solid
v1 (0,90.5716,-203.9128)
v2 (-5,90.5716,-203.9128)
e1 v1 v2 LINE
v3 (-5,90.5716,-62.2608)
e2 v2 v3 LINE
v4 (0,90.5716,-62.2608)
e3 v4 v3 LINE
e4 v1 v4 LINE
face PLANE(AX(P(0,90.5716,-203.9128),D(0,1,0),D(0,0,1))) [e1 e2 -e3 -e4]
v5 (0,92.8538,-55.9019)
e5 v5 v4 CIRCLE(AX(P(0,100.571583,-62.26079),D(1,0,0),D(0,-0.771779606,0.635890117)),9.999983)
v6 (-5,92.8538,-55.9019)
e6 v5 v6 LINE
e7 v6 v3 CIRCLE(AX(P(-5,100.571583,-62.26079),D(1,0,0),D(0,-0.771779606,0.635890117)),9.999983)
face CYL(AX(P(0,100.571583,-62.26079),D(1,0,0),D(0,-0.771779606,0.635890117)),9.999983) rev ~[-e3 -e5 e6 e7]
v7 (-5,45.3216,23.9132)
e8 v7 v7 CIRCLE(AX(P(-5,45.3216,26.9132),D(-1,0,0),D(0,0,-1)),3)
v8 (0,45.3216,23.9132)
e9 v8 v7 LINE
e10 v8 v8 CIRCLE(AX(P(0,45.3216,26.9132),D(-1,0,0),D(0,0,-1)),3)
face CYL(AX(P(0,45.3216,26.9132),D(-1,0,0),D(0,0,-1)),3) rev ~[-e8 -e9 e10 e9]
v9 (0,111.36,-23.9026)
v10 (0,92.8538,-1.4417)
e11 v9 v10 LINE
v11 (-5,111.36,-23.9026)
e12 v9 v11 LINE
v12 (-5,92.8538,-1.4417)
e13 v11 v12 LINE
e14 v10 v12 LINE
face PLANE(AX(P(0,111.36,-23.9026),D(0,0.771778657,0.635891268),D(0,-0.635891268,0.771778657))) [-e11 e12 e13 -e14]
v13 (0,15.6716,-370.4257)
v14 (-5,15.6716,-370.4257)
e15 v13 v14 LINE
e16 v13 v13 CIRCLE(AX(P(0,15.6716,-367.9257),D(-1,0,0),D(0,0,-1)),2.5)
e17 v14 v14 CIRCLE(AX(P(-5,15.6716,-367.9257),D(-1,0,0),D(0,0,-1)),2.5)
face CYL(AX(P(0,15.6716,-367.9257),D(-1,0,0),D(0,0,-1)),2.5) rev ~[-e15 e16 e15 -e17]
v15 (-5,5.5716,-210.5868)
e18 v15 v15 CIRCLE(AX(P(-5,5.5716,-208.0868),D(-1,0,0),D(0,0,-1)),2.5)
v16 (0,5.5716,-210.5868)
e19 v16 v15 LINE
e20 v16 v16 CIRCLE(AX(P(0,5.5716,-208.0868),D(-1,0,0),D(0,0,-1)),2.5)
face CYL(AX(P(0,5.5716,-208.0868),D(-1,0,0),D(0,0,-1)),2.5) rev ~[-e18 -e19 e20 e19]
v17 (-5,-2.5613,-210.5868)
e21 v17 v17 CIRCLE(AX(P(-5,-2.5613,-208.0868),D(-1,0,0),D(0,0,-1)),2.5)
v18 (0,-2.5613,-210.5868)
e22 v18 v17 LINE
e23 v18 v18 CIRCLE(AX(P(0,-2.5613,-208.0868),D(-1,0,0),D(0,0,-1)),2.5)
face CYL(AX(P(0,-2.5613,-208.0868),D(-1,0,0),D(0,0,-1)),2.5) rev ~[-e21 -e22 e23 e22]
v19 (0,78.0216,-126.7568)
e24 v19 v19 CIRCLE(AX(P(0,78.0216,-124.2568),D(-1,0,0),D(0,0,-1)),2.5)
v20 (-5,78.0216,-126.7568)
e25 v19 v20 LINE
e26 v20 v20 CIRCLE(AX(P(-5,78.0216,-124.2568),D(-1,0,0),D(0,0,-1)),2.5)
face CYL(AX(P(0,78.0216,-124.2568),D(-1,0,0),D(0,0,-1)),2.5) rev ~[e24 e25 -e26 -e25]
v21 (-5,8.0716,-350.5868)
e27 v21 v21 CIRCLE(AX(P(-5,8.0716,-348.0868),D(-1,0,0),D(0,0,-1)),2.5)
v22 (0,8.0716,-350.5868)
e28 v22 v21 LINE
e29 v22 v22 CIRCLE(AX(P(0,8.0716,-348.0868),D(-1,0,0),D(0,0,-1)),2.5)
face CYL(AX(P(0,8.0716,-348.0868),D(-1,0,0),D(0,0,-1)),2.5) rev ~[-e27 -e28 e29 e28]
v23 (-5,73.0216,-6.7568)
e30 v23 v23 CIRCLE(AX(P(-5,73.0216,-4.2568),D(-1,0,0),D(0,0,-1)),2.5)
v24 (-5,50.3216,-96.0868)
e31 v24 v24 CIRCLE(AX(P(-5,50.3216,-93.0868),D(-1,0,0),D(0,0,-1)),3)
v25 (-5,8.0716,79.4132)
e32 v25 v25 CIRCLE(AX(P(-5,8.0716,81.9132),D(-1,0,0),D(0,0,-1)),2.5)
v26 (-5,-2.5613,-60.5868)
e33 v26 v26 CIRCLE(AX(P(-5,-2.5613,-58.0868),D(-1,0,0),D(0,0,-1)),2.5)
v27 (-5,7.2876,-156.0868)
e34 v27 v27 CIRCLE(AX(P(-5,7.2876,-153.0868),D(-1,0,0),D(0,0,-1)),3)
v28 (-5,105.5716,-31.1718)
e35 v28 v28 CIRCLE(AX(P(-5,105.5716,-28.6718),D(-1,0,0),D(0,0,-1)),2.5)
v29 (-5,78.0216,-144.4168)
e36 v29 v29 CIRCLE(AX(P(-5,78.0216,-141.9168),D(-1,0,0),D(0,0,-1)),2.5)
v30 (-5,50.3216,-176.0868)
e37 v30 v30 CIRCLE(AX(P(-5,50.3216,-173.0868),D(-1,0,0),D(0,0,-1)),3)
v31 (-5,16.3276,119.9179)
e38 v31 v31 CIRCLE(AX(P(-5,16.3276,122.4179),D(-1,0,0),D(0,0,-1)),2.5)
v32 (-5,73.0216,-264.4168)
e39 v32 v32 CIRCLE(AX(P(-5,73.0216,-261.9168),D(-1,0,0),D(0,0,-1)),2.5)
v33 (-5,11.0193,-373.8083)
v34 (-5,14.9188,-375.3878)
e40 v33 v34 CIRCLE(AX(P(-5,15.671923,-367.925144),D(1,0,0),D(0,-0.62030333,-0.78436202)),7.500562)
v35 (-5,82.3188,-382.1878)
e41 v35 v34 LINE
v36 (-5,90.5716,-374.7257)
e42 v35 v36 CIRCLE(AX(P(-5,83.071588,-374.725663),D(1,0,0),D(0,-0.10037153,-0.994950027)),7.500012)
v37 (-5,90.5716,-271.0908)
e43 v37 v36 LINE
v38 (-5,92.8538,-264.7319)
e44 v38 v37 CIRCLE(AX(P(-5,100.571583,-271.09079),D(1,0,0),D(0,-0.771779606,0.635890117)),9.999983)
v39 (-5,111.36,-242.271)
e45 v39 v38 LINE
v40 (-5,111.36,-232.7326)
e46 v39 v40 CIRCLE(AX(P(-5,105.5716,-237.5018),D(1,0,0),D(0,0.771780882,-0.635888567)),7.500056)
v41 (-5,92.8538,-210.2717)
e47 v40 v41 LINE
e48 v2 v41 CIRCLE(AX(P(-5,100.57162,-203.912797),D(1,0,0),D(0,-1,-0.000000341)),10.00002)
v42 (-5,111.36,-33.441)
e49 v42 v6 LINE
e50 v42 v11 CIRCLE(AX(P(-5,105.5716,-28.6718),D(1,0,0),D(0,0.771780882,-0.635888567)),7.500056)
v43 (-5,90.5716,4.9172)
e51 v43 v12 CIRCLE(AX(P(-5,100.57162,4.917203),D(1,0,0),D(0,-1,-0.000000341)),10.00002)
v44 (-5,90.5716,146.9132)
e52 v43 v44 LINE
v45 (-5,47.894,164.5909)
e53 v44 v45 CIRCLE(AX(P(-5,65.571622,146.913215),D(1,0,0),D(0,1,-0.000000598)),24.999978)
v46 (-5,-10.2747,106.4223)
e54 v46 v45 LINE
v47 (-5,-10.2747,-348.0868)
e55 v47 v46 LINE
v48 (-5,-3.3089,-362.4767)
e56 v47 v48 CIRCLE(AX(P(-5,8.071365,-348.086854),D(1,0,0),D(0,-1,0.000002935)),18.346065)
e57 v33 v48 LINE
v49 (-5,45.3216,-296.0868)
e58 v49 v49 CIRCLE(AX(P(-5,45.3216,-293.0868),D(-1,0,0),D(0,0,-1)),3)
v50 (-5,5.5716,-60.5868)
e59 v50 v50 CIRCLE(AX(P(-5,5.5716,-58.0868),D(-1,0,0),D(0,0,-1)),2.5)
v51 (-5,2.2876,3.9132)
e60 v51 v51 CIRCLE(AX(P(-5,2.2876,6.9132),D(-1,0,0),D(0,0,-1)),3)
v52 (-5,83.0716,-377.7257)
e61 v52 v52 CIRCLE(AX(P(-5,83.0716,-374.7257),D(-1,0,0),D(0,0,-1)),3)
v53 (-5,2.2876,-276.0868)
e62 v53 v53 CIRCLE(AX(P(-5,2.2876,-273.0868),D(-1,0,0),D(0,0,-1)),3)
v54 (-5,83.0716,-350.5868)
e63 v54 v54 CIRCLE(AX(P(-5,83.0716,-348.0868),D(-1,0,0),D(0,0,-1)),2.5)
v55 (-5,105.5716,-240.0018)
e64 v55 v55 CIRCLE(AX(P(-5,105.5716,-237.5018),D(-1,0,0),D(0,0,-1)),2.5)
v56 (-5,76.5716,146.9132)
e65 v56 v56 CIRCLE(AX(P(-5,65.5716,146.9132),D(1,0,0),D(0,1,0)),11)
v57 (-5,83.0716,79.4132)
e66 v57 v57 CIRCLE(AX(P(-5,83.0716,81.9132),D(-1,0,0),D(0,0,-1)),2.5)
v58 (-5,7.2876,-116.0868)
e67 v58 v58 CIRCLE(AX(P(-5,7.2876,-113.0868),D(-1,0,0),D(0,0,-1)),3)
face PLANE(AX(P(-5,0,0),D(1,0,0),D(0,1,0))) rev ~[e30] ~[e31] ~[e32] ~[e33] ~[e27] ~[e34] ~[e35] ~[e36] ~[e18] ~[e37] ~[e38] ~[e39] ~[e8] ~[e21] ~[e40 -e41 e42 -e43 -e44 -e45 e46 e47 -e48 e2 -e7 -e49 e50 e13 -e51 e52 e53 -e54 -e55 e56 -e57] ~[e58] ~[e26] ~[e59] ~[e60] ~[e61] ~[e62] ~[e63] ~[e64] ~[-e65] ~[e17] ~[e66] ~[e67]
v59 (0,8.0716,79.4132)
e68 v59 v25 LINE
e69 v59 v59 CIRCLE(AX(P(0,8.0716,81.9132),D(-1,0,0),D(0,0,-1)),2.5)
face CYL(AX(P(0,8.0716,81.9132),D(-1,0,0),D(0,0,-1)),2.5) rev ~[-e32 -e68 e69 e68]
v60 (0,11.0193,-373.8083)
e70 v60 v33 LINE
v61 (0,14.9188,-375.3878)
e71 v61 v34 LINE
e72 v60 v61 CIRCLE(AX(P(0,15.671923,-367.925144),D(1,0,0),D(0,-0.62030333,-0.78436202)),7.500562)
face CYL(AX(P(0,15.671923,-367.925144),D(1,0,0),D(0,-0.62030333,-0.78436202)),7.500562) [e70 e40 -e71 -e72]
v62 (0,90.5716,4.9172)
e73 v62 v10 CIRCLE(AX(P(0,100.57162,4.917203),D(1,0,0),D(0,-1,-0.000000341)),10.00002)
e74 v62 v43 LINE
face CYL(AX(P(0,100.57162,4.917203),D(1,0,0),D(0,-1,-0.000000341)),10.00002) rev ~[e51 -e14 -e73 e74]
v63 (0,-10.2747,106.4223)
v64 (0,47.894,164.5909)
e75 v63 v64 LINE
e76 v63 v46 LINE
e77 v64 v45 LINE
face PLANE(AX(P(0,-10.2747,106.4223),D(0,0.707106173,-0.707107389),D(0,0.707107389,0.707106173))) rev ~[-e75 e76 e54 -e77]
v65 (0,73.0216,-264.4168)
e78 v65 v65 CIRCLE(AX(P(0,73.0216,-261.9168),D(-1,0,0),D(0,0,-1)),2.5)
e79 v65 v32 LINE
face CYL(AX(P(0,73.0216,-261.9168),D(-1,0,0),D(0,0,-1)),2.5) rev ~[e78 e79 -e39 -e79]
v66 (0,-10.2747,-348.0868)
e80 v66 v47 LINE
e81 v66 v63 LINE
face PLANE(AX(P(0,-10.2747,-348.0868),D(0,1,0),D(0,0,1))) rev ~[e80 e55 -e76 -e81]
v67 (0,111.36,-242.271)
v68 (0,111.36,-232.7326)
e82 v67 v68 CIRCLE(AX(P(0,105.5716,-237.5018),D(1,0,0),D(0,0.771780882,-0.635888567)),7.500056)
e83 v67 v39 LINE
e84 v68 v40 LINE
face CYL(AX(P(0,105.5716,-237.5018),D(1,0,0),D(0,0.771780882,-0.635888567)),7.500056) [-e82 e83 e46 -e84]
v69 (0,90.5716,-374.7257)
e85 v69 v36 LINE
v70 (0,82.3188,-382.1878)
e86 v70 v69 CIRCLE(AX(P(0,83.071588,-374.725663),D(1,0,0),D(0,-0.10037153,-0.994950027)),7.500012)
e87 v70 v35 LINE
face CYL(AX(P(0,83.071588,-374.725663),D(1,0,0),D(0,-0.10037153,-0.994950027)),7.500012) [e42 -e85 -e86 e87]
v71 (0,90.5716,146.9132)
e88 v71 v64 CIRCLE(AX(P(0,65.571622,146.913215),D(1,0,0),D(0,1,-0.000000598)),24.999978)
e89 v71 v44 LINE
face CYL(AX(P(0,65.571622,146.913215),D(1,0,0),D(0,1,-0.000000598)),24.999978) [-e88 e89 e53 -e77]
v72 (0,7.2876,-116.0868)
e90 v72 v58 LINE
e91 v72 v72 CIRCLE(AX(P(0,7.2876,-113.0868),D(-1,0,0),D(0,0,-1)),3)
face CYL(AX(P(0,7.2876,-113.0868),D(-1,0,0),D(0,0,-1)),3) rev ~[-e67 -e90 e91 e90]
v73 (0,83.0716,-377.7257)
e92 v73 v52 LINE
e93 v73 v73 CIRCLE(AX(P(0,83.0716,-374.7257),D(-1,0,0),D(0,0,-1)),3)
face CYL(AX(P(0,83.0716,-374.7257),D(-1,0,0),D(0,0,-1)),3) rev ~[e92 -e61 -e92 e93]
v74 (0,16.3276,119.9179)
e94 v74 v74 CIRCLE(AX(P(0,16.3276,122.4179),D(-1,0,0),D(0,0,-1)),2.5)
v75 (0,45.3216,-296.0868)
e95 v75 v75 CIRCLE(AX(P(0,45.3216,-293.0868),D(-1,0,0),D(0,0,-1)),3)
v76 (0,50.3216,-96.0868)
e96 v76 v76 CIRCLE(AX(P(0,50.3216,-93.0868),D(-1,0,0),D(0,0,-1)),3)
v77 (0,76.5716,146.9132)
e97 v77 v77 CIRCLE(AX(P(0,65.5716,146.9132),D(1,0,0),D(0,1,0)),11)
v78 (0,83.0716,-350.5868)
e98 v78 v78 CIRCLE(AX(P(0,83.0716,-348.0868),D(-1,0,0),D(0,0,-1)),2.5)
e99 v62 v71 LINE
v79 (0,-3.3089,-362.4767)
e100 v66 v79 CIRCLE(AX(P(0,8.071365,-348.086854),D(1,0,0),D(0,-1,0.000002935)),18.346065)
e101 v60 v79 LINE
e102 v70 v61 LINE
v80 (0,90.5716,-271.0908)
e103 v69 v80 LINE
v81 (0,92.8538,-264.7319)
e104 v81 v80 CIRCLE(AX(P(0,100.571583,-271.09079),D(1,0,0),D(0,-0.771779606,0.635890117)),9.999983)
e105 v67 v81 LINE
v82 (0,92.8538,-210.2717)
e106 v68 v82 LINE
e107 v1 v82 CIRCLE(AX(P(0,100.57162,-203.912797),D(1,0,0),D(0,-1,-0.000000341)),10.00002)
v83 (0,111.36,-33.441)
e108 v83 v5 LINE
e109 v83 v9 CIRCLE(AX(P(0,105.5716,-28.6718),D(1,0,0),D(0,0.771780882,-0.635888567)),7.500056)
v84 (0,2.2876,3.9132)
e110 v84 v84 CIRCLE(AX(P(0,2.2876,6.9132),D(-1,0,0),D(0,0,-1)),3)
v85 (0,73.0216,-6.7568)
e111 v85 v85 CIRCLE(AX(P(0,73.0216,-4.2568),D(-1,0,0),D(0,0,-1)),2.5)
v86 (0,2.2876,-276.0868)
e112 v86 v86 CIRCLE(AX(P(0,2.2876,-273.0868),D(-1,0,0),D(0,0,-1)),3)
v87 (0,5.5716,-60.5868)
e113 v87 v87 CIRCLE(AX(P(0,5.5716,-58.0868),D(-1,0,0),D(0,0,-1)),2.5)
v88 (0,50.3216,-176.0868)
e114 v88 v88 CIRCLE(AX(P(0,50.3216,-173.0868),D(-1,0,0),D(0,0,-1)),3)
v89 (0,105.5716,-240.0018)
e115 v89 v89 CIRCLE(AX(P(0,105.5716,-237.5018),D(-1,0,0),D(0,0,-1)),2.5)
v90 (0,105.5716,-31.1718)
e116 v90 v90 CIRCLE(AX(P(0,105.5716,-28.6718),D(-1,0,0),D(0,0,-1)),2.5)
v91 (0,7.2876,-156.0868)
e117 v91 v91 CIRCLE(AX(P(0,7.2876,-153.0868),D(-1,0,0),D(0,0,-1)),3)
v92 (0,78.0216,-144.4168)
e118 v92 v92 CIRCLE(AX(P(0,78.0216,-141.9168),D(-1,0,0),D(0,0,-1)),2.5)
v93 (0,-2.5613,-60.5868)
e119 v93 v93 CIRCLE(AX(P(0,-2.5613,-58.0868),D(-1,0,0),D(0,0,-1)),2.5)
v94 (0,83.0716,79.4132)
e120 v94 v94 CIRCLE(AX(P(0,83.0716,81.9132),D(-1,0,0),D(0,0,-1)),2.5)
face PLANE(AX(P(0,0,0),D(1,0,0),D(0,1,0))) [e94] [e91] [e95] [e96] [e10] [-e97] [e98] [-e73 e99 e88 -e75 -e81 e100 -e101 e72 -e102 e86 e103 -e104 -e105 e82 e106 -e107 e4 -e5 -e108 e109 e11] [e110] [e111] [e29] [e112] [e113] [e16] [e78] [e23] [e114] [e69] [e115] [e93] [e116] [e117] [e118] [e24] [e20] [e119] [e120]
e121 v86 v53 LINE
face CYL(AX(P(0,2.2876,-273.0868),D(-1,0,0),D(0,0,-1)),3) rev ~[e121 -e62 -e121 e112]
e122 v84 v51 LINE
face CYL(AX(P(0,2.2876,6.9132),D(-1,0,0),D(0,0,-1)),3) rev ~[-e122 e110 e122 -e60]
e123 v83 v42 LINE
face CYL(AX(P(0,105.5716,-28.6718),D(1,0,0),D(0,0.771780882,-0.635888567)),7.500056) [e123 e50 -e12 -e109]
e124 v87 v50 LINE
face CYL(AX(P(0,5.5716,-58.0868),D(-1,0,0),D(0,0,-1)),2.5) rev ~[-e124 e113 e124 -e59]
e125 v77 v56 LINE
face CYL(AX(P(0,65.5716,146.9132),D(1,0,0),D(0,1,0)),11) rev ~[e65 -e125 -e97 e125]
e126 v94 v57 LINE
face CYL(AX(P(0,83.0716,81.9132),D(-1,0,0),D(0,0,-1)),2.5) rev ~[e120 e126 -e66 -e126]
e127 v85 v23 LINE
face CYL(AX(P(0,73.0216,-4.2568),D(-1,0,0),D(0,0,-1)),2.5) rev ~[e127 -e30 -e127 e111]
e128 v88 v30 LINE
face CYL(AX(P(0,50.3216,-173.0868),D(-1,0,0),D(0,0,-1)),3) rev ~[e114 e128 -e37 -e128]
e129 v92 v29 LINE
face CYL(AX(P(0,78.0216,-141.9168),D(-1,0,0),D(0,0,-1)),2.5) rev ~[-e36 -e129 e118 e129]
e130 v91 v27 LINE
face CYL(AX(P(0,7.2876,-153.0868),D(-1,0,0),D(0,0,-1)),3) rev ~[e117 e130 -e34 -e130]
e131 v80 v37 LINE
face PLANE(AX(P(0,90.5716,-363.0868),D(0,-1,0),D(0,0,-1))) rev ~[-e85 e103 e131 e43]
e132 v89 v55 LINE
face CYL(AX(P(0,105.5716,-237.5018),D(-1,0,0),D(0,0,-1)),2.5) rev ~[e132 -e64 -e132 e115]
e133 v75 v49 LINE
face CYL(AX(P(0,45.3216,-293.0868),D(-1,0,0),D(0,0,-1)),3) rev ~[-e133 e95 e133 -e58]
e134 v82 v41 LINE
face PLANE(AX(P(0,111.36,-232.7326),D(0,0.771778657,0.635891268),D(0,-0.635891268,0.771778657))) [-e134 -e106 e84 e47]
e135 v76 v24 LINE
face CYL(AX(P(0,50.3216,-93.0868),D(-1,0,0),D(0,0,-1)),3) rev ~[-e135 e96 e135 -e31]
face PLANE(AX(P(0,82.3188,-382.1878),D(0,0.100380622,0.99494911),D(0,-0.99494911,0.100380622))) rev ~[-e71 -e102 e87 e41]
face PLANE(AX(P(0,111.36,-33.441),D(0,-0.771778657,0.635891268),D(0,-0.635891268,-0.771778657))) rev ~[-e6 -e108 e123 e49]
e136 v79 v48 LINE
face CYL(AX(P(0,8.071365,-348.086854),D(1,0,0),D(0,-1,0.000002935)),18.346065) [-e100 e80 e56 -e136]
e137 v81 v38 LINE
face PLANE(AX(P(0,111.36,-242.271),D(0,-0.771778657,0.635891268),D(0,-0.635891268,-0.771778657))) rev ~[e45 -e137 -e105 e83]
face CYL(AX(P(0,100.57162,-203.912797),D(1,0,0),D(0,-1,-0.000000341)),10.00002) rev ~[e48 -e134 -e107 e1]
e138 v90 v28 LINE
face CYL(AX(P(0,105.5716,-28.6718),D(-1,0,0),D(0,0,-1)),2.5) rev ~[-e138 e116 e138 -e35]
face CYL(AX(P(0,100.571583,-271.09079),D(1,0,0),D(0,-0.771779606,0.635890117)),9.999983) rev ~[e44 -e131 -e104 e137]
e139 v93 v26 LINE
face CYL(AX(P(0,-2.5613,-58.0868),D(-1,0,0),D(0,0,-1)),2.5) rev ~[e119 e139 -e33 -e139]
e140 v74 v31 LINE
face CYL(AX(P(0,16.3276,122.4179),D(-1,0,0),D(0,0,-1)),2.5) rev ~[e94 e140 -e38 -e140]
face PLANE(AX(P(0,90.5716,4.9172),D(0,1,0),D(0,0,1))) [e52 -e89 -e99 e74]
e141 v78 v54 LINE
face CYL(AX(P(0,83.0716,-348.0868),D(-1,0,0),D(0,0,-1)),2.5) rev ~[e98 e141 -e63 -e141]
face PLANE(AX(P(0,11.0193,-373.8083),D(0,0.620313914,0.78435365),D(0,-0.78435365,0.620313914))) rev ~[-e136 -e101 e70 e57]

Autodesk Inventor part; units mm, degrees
ref_plane "YZ Plane" through (0, 0, 0) normal (1, 0, 0) x (0, 1, 0)
ref_plane "XZ Plane" through (0, 0, 0) normal (0, 1, 0) x (-1, 0, 0)
ref_plane "XY Plane" through (0, 0, 0) normal (0, 0, 1) x (1, 0, 0)
sketch "Sketch2" plane through (0, 0, 0) normal (1, 0, 0) x (0, 1, 0)
  line L0 (127.2876, 96.9132) -> (-12.7124, 96.9132) construction
  line L1 (-12.7124, 96.9132) -> (-12.7124, -363.0868) construction
  line L2 (-12.7124, -363.0868) -> (127.2876, -363.0868) construction
  line L3 (127.2876, -363.0868) -> (127.2876, 96.9132) construction
  line L4 (97.2876, 66.9132) -> (17.2876, 66.9132) construction
  line L5 (17.2876, 66.9132) -> (17.2876, -333.0868) construction
  line L6 (17.2876, -333.0868) -> (97.2876, -333.0868) construction
  line L7 (97.2876, -333.0868) -> (97.2876, 66.9132) construction
  point P0 (0, 0)
  dimension "d2" = 140
  dimension "d3" = 460
  dimension "d4" = 80
  dimension "d5" = 400
  dimension "d6" = 30
  dimension "d7" = 30
sketch "Sketch3" plane through (0, 0, 0) normal (1, 0, 0) x (0, 1, 0)
  circle A0 centre (-62.7124, 66.9132) radius 20
  line L0 (-12.7124, 96.9132) -> (-12.7124, -363.0868) construction
  circle A1 centre (-62.7124, -13.0868) radius 20
  circle A2 centre (-62.7124, -93.0868) radius 20
  circle A3 centre (-62.7124, -173.0868) radius 20
  circle A4 centre (-62.7124, -253.0868) radius 20
  circle A5 centre (-62.7124, -333.0868) radius 20
  line L1 (127.2876, 96.9132) -> (-12.7124, 96.9132) construction
  point P0 (0, 0)
  dimension "d8" = 40
  dimension "d9" = 50
  dimension "d12" = 80
  dimension "d17" = 30
sketch "Sketch1" plane through (0, 0, 0) normal (1, 0, 0) x (0, 1, 0)
  circle A0 centre (45.5719, 146.9132) radius 40
  circle A1 centre (85.5719, -453.0868) radius 40
  line L0 (127.2876, 96.9132) -> (-12.7124, 96.9132) construction
  line L1 (-12.7124, -363.0868) -> (127.2876, -363.0868) construction
  line L2 (-62.7124, 66.9132) -> (-62.7124, -13.0868) construction
  line L3 (-62.7124, -253.0868) -> (-62.7124, -333.0868) construction
  line L4 (85.2399, 141.7706) -> (125.4799, -450.3748) construction
  circle A2 centre (-62.7124, 66.9132) radius 20 projected
  line L5 (17.2876, 175.1975) -> (-76.8545, 81.0553)
  circle A3 centre (-62.7124, -333.0868) radius 20 projected
  line L6 (-76.8545, -347.2289) -> (57.2876, -481.3711) construction
  point P0 (0, 0)
  dimension "d0" = 80
  dimension "d1" = 80
  dimension "d18" = 50
  dimension "d19" = 90
  dimension "d45" = 135
  dimension "d46" = 135
sketch "Sketch4" plane through (0, 0, 0) normal (1, 0, 0) x (0, 1, 0)
  line L0 (37.6815, -3.0868) -> (-57.7124, 26.9132) construction
  circle A0 centre (-62.7124, 66.9132) radius 20 projected
  circle A1 centre (-62.7124, -13.0868) radius 20 projected
  line L1 (-62.7124, 66.9132) -> (-62.7124, -13.0868) construction
  circle A2 centre (-27.7124, 112.5679) radius 20 construction
  circle A3 centre (-27.7124, 32.5679) radius 20 construction
  line L2 (-27.7124, 72.5679) -> (37.6815, -3.0868) construction
  line L3 (-27.7124, 72.5679) -> (-57.7124, 26.9132) construction
  line L4 (37.6815, -3.0868) -> (-42.7124, 49.7406) construction
  line L5 (-12.7124, 96.9132) -> (-12.7124, -363.0868) construction
  point P0 (0, 0)
  point P1 (-61.7124, 47.9132)
  point P2 (83.0715, 79.9132)
  point P3 (83.0715, -80.0868)
  point P4 (37.6815, -163.0868)
  point P5 (83.0715, -240.0868)
  point P6 (37.6815, -323.0868)
  dimension "d22" = 40
  dimension "d23" = 5
  dimension "d24" = 30
  dimension "d25" = 40
  dimension "d26" = 40
  dimension "d27" = 80
  dimension "d28" = 40
  dimension "d29" = 100
  dimension "d30" = 100
  dimension "d31" = 35
  dimension "d32" = 54.6292
  dimension "d33" = 27.3146
  dimension "d34" = 56.691
  dimension "d35" = 95.3939
  dimension "d36" = 45.39
  dimension "d37" = 83
  dimension "d40" = 160
sketch "Sketch6" plane through (0, 0, 0) normal (1, 0, 0) x (0, 1, 0)
  line L0 (234.6261, -208.0868) -> (-157.479, -208.0868) construction
  line L1 (237.7494, -58.0868) -> (-154.3557, -58.0868) construction
  line L2 (17.2876, -333.0868) -> (97.2876, -333.0868) construction
  line L3 (97.2876, 66.9132) -> (17.2876, 66.9132) construction
  point P0 (0, 0)
  dimension "d61" = 125
  dimension "d62" = 125
sketch "Sketch5" plane through (0, 0, 0) normal (1, 0, 0) x (0, 1, 0)
  arc A0 (90.5716, 146.9132) -> (47.894, 164.5909) centre (65.5716, 146.9132) ccw
  arc A1 (47.894, 164.5909) -> (90.5716, 146.9132) centre (65.5716, 146.9132) ccw construction
  line L0 (110.6559, 96.9132) -> (-29.3441, 96.9132) construction
  line L1 (-26.0812, -363.0868) -> (113.9188, -363.0868) construction
  line L2 (217.7491, -58.0868) -> (-174.356, -58.0868) construction
  line L3 (214.6258, -208.0868) -> (-177.4793, -208.0868) construction
  circle A2 centre (65.5716, 146.9132) radius 11
  circle A3 centre (65.5716, 146.9132) radius 55 construction
  line L4 (-10.2747, 106.4223) -> (47.894, 164.5909)
  line L5 (12.4387, 66.0715) -> (12.4387, -333.9285) construction
  line L6 (-62.7124, -14.3648) -> (-62.7124, -91.8088) construction
  line L7 (-62.7124, -173.0868) -> (-62.7124, -253.0868) construction
  line L8 (90.5716, -363.0868) -> (90.5716, -271.0908)
  line L9 (90.5716, -363.0868) -> (90.5716, -374.7257)
  arc A4 (82.3188, -382.1878) -> (90.5716, -374.7257) centre (83.0716, -374.7257) ccw
  arc A5 (11.0193, -373.8083) -> (14.9188, -375.3878) centre (15.6716, -367.9257) ccw
  line L10 (82.3188, -382.1878) -> (14.9188, -375.3878)
  arc A6 (-10.2747, -348.0868) -> (-3.3089, -362.4767) centre (8.0716, -348.0868) ccw
  line L11 (11.0193, -373.8083) -> (-3.3089, -362.4767)
  line L12 (-10.2747, -348.0868) -> (-10.2747, 106.4223)
  circle A7 centre (105.5716, -28.6718) radius 15 construction
  circle A8 centre (105.5716, -237.5018) radius 15 construction
  arc A9 (111.36, -33.441) -> (111.36, -23.9026) centre (105.5716, -28.6718) ccw
  arc A10 (111.36, -242.271) -> (111.36, -232.7326) centre (105.5716, -237.5018) ccw
  line L13 (111.36, -232.7326) -> (92.8538, -210.2717)
  line L14 (111.36, -242.271) -> (92.8538, -264.7319)
  line L15 (111.36, -33.441) -> (92.8538, -55.9019)
  line L16 (111.36, -23.9026) -> (92.8538, -1.4417)
  line L17 (90.5716, 4.9172) -> (90.5716, 146.9132)
  arc A11 (90.5716, 4.9172) -> (92.8538, -1.4417) centre (100.5716, 4.9172) ccw
  arc A12 (92.8538, -55.9019) -> (90.5716, -62.2608) centre (100.5716, -62.2608) ccw
  line L18 (90.5716, -203.9128) -> (90.5716, -62.2608)
  arc A13 (90.5716, -203.9128) -> (92.8538, -210.2717) centre (100.5716, -203.9128) ccw
  arc A14 (92.8538, -264.7319) -> (90.5716, -271.0908) centre (100.5716, -271.0908) ccw
  line L19 (127.2876, -363.0868) -> (127.2876, 96.9132) construction
  point P0 (0, 0)
  point P1 (83.0716, 81.9132)
  point P2 (83.0716, -348.0868)
  point P3 (16.3276, 122.4179)
  point P4 (8.0716, -82.4742)
  point P5 (8.0716, -243.0868)
  point P6 (-2.5613, -58.0868)
  point P7 (-2.5613, -208.0868)
  point P8 (8.0716, 81.9132)
  point P9 (-62.7124, 66.9132)
  point P10 (-62.7124, -333.0868)
  point P11 (-62.7124, -53.0868)
  point P12 (-62.7124, -213.0868)
  point P13 (2.2876, 6.9132)
  point P14 (45.3216, 26.9132)
  point P15 (50.3216, -93.0868)
  point P16 (7.2876, -113.0868)
  point P17 (7.2876, -153.0868)
  point P18 (50.3216, -173.0868)
  point P19 (45.3216, -293.0868)
  point P20 (2.2876, -273.0868)
  point P21 (2.2876, 6.9132)
  point P22 (-62.7124, 66.9132)
  point P23 (5.5716, -208.0868)
  point P24 (5.5716, -58.0868)
  point P25 (73.0216, -4.2568)
  point P26 (78.0216, -124.2568)
  point P27 (78.0216, -141.9168)
  point P28 (73.0216, -261.9168)
  point P29 (90.5716, -207.5018)
  point P30 (90.5716, -267.5018)
  point P31 (90.5716, -58.6718)
  point P32 (90.5716, 1.3282)
  point P33 (90.5716, -58.0868)
  point P34 (15.0521, -366.9249)
  dimension "d84" = 110
  dimension "d47" = 50
  dimension "d63" = 15
  dimension "d65" = 15
  dimension "d81" = 22
  dimension "d101" = 7.5
  dimension "d151" = 15
  dimension "d155" = 15
  dimension "d159" = 15
  dimension "d163" = 60
  dimension "d164" = 65
  dimension "d165" = 20
  dimension "d166" = 43.034
  dimension "d174" = 60
  dimension "d175" = 70
  dimension "d176" = 43.034
  dimension "d177" = 20
  dimension "d196" = 128.284
  dimension "d198" = 11.17
  dimension "d199" = 70.734
  dimension "d200" = 11.17
  dimension "d201" = 70.734
  dimension "d204" = 11.17
  dimension "d214" = 43.034
  dimension "d215" = 20
  dimension "d216" = 20
  dimension "d217" = 43.034
  dimension "d218" = 70.734
  dimension "d219" = 70.734
  dimension "d220" = 11.17
  dimension "d221" = 67.4
  dimension "d222" = 6.8
  dimension "d223" = 7.5
  dimension "d224" = 15
  dimension "d225" = 15
  dimension "d226" = 48.83
  dimension "d227" = 24.415
  dimension "d228" = 48.83
  dimension "d229" = 24.415
  dimension "d230" = 15
  dimension "d231" = 15
  dimension "d232" = 30
  dimension "d233" = 30
  dimension "d234" = 15
  dimension "d235" = 15
  dimension "d236" = 60
  dimension "d237" = 30
  dimension "d238" = 60
  dimension "d239" = 30
  dimension "d240" = 10
  dimension "d241" = 10
  dimension "d243" = 65
  dimension "d244" = 17.5
  dimension "d245" = 75
  dimension "d246" = 164.3874
extrude "Extrusion1" add sketch "Sketch5" against normal blind 5
hole "Hole1" at (0, 83.0716, 81.9132) at (0, 16.3276, 122.4179) at (0, 8.0716, -348.0868) at (0, 83.0716, -348.0868) at (0, -2.5613, -58.0868) at (0, -2.5613, -208.0868) at (0, 8.0716, 81.9132) at (0, 5.5716, -58.0868) at (0, 5.5716, -208.0868) at (0, 105.5716, -28.6718) at (0, 105.5716, -237.5018) direction (-1, 0, 0) diameter 5 end through all clearance for "Flat Head Machine Screw" size "M5" standard "Ansi Metric M Profile"
hole "Otwór2" at (0, 2.2876, 6.9132) at (0, 45.3216, 26.9132) at (0, 7.2876, -113.0868) at (0, 50.3216, -93.0868) at (0, 7.2876, -153.0868) at (0, 50.3216, -173.0868) at (0, 2.2876, -273.0868) at (0, 45.3216, -293.0868) at (0, 83.0716, -374.7257) direction (-1, 0, 0) diameter 6 end through all
hole "Otwór3" at (0, 73.0216, -4.2568) at (0, 78.0216, -141.9168) at (0, 78.0216, -124.2568) at (0, 73.0216, -261.9168) at (0, 15.6716, -367.9257) direction (-1, 0, 0) diameter 5 end through all
equation "\"d28\" = 0.5 * d27"
equation "\"d30\" = d29"
equation "\"d33\" = 0.5 * d32"
equation "\"d62\" = d61"
properties part number "plyta_glowna_V3" material "Aluminium 6061"
